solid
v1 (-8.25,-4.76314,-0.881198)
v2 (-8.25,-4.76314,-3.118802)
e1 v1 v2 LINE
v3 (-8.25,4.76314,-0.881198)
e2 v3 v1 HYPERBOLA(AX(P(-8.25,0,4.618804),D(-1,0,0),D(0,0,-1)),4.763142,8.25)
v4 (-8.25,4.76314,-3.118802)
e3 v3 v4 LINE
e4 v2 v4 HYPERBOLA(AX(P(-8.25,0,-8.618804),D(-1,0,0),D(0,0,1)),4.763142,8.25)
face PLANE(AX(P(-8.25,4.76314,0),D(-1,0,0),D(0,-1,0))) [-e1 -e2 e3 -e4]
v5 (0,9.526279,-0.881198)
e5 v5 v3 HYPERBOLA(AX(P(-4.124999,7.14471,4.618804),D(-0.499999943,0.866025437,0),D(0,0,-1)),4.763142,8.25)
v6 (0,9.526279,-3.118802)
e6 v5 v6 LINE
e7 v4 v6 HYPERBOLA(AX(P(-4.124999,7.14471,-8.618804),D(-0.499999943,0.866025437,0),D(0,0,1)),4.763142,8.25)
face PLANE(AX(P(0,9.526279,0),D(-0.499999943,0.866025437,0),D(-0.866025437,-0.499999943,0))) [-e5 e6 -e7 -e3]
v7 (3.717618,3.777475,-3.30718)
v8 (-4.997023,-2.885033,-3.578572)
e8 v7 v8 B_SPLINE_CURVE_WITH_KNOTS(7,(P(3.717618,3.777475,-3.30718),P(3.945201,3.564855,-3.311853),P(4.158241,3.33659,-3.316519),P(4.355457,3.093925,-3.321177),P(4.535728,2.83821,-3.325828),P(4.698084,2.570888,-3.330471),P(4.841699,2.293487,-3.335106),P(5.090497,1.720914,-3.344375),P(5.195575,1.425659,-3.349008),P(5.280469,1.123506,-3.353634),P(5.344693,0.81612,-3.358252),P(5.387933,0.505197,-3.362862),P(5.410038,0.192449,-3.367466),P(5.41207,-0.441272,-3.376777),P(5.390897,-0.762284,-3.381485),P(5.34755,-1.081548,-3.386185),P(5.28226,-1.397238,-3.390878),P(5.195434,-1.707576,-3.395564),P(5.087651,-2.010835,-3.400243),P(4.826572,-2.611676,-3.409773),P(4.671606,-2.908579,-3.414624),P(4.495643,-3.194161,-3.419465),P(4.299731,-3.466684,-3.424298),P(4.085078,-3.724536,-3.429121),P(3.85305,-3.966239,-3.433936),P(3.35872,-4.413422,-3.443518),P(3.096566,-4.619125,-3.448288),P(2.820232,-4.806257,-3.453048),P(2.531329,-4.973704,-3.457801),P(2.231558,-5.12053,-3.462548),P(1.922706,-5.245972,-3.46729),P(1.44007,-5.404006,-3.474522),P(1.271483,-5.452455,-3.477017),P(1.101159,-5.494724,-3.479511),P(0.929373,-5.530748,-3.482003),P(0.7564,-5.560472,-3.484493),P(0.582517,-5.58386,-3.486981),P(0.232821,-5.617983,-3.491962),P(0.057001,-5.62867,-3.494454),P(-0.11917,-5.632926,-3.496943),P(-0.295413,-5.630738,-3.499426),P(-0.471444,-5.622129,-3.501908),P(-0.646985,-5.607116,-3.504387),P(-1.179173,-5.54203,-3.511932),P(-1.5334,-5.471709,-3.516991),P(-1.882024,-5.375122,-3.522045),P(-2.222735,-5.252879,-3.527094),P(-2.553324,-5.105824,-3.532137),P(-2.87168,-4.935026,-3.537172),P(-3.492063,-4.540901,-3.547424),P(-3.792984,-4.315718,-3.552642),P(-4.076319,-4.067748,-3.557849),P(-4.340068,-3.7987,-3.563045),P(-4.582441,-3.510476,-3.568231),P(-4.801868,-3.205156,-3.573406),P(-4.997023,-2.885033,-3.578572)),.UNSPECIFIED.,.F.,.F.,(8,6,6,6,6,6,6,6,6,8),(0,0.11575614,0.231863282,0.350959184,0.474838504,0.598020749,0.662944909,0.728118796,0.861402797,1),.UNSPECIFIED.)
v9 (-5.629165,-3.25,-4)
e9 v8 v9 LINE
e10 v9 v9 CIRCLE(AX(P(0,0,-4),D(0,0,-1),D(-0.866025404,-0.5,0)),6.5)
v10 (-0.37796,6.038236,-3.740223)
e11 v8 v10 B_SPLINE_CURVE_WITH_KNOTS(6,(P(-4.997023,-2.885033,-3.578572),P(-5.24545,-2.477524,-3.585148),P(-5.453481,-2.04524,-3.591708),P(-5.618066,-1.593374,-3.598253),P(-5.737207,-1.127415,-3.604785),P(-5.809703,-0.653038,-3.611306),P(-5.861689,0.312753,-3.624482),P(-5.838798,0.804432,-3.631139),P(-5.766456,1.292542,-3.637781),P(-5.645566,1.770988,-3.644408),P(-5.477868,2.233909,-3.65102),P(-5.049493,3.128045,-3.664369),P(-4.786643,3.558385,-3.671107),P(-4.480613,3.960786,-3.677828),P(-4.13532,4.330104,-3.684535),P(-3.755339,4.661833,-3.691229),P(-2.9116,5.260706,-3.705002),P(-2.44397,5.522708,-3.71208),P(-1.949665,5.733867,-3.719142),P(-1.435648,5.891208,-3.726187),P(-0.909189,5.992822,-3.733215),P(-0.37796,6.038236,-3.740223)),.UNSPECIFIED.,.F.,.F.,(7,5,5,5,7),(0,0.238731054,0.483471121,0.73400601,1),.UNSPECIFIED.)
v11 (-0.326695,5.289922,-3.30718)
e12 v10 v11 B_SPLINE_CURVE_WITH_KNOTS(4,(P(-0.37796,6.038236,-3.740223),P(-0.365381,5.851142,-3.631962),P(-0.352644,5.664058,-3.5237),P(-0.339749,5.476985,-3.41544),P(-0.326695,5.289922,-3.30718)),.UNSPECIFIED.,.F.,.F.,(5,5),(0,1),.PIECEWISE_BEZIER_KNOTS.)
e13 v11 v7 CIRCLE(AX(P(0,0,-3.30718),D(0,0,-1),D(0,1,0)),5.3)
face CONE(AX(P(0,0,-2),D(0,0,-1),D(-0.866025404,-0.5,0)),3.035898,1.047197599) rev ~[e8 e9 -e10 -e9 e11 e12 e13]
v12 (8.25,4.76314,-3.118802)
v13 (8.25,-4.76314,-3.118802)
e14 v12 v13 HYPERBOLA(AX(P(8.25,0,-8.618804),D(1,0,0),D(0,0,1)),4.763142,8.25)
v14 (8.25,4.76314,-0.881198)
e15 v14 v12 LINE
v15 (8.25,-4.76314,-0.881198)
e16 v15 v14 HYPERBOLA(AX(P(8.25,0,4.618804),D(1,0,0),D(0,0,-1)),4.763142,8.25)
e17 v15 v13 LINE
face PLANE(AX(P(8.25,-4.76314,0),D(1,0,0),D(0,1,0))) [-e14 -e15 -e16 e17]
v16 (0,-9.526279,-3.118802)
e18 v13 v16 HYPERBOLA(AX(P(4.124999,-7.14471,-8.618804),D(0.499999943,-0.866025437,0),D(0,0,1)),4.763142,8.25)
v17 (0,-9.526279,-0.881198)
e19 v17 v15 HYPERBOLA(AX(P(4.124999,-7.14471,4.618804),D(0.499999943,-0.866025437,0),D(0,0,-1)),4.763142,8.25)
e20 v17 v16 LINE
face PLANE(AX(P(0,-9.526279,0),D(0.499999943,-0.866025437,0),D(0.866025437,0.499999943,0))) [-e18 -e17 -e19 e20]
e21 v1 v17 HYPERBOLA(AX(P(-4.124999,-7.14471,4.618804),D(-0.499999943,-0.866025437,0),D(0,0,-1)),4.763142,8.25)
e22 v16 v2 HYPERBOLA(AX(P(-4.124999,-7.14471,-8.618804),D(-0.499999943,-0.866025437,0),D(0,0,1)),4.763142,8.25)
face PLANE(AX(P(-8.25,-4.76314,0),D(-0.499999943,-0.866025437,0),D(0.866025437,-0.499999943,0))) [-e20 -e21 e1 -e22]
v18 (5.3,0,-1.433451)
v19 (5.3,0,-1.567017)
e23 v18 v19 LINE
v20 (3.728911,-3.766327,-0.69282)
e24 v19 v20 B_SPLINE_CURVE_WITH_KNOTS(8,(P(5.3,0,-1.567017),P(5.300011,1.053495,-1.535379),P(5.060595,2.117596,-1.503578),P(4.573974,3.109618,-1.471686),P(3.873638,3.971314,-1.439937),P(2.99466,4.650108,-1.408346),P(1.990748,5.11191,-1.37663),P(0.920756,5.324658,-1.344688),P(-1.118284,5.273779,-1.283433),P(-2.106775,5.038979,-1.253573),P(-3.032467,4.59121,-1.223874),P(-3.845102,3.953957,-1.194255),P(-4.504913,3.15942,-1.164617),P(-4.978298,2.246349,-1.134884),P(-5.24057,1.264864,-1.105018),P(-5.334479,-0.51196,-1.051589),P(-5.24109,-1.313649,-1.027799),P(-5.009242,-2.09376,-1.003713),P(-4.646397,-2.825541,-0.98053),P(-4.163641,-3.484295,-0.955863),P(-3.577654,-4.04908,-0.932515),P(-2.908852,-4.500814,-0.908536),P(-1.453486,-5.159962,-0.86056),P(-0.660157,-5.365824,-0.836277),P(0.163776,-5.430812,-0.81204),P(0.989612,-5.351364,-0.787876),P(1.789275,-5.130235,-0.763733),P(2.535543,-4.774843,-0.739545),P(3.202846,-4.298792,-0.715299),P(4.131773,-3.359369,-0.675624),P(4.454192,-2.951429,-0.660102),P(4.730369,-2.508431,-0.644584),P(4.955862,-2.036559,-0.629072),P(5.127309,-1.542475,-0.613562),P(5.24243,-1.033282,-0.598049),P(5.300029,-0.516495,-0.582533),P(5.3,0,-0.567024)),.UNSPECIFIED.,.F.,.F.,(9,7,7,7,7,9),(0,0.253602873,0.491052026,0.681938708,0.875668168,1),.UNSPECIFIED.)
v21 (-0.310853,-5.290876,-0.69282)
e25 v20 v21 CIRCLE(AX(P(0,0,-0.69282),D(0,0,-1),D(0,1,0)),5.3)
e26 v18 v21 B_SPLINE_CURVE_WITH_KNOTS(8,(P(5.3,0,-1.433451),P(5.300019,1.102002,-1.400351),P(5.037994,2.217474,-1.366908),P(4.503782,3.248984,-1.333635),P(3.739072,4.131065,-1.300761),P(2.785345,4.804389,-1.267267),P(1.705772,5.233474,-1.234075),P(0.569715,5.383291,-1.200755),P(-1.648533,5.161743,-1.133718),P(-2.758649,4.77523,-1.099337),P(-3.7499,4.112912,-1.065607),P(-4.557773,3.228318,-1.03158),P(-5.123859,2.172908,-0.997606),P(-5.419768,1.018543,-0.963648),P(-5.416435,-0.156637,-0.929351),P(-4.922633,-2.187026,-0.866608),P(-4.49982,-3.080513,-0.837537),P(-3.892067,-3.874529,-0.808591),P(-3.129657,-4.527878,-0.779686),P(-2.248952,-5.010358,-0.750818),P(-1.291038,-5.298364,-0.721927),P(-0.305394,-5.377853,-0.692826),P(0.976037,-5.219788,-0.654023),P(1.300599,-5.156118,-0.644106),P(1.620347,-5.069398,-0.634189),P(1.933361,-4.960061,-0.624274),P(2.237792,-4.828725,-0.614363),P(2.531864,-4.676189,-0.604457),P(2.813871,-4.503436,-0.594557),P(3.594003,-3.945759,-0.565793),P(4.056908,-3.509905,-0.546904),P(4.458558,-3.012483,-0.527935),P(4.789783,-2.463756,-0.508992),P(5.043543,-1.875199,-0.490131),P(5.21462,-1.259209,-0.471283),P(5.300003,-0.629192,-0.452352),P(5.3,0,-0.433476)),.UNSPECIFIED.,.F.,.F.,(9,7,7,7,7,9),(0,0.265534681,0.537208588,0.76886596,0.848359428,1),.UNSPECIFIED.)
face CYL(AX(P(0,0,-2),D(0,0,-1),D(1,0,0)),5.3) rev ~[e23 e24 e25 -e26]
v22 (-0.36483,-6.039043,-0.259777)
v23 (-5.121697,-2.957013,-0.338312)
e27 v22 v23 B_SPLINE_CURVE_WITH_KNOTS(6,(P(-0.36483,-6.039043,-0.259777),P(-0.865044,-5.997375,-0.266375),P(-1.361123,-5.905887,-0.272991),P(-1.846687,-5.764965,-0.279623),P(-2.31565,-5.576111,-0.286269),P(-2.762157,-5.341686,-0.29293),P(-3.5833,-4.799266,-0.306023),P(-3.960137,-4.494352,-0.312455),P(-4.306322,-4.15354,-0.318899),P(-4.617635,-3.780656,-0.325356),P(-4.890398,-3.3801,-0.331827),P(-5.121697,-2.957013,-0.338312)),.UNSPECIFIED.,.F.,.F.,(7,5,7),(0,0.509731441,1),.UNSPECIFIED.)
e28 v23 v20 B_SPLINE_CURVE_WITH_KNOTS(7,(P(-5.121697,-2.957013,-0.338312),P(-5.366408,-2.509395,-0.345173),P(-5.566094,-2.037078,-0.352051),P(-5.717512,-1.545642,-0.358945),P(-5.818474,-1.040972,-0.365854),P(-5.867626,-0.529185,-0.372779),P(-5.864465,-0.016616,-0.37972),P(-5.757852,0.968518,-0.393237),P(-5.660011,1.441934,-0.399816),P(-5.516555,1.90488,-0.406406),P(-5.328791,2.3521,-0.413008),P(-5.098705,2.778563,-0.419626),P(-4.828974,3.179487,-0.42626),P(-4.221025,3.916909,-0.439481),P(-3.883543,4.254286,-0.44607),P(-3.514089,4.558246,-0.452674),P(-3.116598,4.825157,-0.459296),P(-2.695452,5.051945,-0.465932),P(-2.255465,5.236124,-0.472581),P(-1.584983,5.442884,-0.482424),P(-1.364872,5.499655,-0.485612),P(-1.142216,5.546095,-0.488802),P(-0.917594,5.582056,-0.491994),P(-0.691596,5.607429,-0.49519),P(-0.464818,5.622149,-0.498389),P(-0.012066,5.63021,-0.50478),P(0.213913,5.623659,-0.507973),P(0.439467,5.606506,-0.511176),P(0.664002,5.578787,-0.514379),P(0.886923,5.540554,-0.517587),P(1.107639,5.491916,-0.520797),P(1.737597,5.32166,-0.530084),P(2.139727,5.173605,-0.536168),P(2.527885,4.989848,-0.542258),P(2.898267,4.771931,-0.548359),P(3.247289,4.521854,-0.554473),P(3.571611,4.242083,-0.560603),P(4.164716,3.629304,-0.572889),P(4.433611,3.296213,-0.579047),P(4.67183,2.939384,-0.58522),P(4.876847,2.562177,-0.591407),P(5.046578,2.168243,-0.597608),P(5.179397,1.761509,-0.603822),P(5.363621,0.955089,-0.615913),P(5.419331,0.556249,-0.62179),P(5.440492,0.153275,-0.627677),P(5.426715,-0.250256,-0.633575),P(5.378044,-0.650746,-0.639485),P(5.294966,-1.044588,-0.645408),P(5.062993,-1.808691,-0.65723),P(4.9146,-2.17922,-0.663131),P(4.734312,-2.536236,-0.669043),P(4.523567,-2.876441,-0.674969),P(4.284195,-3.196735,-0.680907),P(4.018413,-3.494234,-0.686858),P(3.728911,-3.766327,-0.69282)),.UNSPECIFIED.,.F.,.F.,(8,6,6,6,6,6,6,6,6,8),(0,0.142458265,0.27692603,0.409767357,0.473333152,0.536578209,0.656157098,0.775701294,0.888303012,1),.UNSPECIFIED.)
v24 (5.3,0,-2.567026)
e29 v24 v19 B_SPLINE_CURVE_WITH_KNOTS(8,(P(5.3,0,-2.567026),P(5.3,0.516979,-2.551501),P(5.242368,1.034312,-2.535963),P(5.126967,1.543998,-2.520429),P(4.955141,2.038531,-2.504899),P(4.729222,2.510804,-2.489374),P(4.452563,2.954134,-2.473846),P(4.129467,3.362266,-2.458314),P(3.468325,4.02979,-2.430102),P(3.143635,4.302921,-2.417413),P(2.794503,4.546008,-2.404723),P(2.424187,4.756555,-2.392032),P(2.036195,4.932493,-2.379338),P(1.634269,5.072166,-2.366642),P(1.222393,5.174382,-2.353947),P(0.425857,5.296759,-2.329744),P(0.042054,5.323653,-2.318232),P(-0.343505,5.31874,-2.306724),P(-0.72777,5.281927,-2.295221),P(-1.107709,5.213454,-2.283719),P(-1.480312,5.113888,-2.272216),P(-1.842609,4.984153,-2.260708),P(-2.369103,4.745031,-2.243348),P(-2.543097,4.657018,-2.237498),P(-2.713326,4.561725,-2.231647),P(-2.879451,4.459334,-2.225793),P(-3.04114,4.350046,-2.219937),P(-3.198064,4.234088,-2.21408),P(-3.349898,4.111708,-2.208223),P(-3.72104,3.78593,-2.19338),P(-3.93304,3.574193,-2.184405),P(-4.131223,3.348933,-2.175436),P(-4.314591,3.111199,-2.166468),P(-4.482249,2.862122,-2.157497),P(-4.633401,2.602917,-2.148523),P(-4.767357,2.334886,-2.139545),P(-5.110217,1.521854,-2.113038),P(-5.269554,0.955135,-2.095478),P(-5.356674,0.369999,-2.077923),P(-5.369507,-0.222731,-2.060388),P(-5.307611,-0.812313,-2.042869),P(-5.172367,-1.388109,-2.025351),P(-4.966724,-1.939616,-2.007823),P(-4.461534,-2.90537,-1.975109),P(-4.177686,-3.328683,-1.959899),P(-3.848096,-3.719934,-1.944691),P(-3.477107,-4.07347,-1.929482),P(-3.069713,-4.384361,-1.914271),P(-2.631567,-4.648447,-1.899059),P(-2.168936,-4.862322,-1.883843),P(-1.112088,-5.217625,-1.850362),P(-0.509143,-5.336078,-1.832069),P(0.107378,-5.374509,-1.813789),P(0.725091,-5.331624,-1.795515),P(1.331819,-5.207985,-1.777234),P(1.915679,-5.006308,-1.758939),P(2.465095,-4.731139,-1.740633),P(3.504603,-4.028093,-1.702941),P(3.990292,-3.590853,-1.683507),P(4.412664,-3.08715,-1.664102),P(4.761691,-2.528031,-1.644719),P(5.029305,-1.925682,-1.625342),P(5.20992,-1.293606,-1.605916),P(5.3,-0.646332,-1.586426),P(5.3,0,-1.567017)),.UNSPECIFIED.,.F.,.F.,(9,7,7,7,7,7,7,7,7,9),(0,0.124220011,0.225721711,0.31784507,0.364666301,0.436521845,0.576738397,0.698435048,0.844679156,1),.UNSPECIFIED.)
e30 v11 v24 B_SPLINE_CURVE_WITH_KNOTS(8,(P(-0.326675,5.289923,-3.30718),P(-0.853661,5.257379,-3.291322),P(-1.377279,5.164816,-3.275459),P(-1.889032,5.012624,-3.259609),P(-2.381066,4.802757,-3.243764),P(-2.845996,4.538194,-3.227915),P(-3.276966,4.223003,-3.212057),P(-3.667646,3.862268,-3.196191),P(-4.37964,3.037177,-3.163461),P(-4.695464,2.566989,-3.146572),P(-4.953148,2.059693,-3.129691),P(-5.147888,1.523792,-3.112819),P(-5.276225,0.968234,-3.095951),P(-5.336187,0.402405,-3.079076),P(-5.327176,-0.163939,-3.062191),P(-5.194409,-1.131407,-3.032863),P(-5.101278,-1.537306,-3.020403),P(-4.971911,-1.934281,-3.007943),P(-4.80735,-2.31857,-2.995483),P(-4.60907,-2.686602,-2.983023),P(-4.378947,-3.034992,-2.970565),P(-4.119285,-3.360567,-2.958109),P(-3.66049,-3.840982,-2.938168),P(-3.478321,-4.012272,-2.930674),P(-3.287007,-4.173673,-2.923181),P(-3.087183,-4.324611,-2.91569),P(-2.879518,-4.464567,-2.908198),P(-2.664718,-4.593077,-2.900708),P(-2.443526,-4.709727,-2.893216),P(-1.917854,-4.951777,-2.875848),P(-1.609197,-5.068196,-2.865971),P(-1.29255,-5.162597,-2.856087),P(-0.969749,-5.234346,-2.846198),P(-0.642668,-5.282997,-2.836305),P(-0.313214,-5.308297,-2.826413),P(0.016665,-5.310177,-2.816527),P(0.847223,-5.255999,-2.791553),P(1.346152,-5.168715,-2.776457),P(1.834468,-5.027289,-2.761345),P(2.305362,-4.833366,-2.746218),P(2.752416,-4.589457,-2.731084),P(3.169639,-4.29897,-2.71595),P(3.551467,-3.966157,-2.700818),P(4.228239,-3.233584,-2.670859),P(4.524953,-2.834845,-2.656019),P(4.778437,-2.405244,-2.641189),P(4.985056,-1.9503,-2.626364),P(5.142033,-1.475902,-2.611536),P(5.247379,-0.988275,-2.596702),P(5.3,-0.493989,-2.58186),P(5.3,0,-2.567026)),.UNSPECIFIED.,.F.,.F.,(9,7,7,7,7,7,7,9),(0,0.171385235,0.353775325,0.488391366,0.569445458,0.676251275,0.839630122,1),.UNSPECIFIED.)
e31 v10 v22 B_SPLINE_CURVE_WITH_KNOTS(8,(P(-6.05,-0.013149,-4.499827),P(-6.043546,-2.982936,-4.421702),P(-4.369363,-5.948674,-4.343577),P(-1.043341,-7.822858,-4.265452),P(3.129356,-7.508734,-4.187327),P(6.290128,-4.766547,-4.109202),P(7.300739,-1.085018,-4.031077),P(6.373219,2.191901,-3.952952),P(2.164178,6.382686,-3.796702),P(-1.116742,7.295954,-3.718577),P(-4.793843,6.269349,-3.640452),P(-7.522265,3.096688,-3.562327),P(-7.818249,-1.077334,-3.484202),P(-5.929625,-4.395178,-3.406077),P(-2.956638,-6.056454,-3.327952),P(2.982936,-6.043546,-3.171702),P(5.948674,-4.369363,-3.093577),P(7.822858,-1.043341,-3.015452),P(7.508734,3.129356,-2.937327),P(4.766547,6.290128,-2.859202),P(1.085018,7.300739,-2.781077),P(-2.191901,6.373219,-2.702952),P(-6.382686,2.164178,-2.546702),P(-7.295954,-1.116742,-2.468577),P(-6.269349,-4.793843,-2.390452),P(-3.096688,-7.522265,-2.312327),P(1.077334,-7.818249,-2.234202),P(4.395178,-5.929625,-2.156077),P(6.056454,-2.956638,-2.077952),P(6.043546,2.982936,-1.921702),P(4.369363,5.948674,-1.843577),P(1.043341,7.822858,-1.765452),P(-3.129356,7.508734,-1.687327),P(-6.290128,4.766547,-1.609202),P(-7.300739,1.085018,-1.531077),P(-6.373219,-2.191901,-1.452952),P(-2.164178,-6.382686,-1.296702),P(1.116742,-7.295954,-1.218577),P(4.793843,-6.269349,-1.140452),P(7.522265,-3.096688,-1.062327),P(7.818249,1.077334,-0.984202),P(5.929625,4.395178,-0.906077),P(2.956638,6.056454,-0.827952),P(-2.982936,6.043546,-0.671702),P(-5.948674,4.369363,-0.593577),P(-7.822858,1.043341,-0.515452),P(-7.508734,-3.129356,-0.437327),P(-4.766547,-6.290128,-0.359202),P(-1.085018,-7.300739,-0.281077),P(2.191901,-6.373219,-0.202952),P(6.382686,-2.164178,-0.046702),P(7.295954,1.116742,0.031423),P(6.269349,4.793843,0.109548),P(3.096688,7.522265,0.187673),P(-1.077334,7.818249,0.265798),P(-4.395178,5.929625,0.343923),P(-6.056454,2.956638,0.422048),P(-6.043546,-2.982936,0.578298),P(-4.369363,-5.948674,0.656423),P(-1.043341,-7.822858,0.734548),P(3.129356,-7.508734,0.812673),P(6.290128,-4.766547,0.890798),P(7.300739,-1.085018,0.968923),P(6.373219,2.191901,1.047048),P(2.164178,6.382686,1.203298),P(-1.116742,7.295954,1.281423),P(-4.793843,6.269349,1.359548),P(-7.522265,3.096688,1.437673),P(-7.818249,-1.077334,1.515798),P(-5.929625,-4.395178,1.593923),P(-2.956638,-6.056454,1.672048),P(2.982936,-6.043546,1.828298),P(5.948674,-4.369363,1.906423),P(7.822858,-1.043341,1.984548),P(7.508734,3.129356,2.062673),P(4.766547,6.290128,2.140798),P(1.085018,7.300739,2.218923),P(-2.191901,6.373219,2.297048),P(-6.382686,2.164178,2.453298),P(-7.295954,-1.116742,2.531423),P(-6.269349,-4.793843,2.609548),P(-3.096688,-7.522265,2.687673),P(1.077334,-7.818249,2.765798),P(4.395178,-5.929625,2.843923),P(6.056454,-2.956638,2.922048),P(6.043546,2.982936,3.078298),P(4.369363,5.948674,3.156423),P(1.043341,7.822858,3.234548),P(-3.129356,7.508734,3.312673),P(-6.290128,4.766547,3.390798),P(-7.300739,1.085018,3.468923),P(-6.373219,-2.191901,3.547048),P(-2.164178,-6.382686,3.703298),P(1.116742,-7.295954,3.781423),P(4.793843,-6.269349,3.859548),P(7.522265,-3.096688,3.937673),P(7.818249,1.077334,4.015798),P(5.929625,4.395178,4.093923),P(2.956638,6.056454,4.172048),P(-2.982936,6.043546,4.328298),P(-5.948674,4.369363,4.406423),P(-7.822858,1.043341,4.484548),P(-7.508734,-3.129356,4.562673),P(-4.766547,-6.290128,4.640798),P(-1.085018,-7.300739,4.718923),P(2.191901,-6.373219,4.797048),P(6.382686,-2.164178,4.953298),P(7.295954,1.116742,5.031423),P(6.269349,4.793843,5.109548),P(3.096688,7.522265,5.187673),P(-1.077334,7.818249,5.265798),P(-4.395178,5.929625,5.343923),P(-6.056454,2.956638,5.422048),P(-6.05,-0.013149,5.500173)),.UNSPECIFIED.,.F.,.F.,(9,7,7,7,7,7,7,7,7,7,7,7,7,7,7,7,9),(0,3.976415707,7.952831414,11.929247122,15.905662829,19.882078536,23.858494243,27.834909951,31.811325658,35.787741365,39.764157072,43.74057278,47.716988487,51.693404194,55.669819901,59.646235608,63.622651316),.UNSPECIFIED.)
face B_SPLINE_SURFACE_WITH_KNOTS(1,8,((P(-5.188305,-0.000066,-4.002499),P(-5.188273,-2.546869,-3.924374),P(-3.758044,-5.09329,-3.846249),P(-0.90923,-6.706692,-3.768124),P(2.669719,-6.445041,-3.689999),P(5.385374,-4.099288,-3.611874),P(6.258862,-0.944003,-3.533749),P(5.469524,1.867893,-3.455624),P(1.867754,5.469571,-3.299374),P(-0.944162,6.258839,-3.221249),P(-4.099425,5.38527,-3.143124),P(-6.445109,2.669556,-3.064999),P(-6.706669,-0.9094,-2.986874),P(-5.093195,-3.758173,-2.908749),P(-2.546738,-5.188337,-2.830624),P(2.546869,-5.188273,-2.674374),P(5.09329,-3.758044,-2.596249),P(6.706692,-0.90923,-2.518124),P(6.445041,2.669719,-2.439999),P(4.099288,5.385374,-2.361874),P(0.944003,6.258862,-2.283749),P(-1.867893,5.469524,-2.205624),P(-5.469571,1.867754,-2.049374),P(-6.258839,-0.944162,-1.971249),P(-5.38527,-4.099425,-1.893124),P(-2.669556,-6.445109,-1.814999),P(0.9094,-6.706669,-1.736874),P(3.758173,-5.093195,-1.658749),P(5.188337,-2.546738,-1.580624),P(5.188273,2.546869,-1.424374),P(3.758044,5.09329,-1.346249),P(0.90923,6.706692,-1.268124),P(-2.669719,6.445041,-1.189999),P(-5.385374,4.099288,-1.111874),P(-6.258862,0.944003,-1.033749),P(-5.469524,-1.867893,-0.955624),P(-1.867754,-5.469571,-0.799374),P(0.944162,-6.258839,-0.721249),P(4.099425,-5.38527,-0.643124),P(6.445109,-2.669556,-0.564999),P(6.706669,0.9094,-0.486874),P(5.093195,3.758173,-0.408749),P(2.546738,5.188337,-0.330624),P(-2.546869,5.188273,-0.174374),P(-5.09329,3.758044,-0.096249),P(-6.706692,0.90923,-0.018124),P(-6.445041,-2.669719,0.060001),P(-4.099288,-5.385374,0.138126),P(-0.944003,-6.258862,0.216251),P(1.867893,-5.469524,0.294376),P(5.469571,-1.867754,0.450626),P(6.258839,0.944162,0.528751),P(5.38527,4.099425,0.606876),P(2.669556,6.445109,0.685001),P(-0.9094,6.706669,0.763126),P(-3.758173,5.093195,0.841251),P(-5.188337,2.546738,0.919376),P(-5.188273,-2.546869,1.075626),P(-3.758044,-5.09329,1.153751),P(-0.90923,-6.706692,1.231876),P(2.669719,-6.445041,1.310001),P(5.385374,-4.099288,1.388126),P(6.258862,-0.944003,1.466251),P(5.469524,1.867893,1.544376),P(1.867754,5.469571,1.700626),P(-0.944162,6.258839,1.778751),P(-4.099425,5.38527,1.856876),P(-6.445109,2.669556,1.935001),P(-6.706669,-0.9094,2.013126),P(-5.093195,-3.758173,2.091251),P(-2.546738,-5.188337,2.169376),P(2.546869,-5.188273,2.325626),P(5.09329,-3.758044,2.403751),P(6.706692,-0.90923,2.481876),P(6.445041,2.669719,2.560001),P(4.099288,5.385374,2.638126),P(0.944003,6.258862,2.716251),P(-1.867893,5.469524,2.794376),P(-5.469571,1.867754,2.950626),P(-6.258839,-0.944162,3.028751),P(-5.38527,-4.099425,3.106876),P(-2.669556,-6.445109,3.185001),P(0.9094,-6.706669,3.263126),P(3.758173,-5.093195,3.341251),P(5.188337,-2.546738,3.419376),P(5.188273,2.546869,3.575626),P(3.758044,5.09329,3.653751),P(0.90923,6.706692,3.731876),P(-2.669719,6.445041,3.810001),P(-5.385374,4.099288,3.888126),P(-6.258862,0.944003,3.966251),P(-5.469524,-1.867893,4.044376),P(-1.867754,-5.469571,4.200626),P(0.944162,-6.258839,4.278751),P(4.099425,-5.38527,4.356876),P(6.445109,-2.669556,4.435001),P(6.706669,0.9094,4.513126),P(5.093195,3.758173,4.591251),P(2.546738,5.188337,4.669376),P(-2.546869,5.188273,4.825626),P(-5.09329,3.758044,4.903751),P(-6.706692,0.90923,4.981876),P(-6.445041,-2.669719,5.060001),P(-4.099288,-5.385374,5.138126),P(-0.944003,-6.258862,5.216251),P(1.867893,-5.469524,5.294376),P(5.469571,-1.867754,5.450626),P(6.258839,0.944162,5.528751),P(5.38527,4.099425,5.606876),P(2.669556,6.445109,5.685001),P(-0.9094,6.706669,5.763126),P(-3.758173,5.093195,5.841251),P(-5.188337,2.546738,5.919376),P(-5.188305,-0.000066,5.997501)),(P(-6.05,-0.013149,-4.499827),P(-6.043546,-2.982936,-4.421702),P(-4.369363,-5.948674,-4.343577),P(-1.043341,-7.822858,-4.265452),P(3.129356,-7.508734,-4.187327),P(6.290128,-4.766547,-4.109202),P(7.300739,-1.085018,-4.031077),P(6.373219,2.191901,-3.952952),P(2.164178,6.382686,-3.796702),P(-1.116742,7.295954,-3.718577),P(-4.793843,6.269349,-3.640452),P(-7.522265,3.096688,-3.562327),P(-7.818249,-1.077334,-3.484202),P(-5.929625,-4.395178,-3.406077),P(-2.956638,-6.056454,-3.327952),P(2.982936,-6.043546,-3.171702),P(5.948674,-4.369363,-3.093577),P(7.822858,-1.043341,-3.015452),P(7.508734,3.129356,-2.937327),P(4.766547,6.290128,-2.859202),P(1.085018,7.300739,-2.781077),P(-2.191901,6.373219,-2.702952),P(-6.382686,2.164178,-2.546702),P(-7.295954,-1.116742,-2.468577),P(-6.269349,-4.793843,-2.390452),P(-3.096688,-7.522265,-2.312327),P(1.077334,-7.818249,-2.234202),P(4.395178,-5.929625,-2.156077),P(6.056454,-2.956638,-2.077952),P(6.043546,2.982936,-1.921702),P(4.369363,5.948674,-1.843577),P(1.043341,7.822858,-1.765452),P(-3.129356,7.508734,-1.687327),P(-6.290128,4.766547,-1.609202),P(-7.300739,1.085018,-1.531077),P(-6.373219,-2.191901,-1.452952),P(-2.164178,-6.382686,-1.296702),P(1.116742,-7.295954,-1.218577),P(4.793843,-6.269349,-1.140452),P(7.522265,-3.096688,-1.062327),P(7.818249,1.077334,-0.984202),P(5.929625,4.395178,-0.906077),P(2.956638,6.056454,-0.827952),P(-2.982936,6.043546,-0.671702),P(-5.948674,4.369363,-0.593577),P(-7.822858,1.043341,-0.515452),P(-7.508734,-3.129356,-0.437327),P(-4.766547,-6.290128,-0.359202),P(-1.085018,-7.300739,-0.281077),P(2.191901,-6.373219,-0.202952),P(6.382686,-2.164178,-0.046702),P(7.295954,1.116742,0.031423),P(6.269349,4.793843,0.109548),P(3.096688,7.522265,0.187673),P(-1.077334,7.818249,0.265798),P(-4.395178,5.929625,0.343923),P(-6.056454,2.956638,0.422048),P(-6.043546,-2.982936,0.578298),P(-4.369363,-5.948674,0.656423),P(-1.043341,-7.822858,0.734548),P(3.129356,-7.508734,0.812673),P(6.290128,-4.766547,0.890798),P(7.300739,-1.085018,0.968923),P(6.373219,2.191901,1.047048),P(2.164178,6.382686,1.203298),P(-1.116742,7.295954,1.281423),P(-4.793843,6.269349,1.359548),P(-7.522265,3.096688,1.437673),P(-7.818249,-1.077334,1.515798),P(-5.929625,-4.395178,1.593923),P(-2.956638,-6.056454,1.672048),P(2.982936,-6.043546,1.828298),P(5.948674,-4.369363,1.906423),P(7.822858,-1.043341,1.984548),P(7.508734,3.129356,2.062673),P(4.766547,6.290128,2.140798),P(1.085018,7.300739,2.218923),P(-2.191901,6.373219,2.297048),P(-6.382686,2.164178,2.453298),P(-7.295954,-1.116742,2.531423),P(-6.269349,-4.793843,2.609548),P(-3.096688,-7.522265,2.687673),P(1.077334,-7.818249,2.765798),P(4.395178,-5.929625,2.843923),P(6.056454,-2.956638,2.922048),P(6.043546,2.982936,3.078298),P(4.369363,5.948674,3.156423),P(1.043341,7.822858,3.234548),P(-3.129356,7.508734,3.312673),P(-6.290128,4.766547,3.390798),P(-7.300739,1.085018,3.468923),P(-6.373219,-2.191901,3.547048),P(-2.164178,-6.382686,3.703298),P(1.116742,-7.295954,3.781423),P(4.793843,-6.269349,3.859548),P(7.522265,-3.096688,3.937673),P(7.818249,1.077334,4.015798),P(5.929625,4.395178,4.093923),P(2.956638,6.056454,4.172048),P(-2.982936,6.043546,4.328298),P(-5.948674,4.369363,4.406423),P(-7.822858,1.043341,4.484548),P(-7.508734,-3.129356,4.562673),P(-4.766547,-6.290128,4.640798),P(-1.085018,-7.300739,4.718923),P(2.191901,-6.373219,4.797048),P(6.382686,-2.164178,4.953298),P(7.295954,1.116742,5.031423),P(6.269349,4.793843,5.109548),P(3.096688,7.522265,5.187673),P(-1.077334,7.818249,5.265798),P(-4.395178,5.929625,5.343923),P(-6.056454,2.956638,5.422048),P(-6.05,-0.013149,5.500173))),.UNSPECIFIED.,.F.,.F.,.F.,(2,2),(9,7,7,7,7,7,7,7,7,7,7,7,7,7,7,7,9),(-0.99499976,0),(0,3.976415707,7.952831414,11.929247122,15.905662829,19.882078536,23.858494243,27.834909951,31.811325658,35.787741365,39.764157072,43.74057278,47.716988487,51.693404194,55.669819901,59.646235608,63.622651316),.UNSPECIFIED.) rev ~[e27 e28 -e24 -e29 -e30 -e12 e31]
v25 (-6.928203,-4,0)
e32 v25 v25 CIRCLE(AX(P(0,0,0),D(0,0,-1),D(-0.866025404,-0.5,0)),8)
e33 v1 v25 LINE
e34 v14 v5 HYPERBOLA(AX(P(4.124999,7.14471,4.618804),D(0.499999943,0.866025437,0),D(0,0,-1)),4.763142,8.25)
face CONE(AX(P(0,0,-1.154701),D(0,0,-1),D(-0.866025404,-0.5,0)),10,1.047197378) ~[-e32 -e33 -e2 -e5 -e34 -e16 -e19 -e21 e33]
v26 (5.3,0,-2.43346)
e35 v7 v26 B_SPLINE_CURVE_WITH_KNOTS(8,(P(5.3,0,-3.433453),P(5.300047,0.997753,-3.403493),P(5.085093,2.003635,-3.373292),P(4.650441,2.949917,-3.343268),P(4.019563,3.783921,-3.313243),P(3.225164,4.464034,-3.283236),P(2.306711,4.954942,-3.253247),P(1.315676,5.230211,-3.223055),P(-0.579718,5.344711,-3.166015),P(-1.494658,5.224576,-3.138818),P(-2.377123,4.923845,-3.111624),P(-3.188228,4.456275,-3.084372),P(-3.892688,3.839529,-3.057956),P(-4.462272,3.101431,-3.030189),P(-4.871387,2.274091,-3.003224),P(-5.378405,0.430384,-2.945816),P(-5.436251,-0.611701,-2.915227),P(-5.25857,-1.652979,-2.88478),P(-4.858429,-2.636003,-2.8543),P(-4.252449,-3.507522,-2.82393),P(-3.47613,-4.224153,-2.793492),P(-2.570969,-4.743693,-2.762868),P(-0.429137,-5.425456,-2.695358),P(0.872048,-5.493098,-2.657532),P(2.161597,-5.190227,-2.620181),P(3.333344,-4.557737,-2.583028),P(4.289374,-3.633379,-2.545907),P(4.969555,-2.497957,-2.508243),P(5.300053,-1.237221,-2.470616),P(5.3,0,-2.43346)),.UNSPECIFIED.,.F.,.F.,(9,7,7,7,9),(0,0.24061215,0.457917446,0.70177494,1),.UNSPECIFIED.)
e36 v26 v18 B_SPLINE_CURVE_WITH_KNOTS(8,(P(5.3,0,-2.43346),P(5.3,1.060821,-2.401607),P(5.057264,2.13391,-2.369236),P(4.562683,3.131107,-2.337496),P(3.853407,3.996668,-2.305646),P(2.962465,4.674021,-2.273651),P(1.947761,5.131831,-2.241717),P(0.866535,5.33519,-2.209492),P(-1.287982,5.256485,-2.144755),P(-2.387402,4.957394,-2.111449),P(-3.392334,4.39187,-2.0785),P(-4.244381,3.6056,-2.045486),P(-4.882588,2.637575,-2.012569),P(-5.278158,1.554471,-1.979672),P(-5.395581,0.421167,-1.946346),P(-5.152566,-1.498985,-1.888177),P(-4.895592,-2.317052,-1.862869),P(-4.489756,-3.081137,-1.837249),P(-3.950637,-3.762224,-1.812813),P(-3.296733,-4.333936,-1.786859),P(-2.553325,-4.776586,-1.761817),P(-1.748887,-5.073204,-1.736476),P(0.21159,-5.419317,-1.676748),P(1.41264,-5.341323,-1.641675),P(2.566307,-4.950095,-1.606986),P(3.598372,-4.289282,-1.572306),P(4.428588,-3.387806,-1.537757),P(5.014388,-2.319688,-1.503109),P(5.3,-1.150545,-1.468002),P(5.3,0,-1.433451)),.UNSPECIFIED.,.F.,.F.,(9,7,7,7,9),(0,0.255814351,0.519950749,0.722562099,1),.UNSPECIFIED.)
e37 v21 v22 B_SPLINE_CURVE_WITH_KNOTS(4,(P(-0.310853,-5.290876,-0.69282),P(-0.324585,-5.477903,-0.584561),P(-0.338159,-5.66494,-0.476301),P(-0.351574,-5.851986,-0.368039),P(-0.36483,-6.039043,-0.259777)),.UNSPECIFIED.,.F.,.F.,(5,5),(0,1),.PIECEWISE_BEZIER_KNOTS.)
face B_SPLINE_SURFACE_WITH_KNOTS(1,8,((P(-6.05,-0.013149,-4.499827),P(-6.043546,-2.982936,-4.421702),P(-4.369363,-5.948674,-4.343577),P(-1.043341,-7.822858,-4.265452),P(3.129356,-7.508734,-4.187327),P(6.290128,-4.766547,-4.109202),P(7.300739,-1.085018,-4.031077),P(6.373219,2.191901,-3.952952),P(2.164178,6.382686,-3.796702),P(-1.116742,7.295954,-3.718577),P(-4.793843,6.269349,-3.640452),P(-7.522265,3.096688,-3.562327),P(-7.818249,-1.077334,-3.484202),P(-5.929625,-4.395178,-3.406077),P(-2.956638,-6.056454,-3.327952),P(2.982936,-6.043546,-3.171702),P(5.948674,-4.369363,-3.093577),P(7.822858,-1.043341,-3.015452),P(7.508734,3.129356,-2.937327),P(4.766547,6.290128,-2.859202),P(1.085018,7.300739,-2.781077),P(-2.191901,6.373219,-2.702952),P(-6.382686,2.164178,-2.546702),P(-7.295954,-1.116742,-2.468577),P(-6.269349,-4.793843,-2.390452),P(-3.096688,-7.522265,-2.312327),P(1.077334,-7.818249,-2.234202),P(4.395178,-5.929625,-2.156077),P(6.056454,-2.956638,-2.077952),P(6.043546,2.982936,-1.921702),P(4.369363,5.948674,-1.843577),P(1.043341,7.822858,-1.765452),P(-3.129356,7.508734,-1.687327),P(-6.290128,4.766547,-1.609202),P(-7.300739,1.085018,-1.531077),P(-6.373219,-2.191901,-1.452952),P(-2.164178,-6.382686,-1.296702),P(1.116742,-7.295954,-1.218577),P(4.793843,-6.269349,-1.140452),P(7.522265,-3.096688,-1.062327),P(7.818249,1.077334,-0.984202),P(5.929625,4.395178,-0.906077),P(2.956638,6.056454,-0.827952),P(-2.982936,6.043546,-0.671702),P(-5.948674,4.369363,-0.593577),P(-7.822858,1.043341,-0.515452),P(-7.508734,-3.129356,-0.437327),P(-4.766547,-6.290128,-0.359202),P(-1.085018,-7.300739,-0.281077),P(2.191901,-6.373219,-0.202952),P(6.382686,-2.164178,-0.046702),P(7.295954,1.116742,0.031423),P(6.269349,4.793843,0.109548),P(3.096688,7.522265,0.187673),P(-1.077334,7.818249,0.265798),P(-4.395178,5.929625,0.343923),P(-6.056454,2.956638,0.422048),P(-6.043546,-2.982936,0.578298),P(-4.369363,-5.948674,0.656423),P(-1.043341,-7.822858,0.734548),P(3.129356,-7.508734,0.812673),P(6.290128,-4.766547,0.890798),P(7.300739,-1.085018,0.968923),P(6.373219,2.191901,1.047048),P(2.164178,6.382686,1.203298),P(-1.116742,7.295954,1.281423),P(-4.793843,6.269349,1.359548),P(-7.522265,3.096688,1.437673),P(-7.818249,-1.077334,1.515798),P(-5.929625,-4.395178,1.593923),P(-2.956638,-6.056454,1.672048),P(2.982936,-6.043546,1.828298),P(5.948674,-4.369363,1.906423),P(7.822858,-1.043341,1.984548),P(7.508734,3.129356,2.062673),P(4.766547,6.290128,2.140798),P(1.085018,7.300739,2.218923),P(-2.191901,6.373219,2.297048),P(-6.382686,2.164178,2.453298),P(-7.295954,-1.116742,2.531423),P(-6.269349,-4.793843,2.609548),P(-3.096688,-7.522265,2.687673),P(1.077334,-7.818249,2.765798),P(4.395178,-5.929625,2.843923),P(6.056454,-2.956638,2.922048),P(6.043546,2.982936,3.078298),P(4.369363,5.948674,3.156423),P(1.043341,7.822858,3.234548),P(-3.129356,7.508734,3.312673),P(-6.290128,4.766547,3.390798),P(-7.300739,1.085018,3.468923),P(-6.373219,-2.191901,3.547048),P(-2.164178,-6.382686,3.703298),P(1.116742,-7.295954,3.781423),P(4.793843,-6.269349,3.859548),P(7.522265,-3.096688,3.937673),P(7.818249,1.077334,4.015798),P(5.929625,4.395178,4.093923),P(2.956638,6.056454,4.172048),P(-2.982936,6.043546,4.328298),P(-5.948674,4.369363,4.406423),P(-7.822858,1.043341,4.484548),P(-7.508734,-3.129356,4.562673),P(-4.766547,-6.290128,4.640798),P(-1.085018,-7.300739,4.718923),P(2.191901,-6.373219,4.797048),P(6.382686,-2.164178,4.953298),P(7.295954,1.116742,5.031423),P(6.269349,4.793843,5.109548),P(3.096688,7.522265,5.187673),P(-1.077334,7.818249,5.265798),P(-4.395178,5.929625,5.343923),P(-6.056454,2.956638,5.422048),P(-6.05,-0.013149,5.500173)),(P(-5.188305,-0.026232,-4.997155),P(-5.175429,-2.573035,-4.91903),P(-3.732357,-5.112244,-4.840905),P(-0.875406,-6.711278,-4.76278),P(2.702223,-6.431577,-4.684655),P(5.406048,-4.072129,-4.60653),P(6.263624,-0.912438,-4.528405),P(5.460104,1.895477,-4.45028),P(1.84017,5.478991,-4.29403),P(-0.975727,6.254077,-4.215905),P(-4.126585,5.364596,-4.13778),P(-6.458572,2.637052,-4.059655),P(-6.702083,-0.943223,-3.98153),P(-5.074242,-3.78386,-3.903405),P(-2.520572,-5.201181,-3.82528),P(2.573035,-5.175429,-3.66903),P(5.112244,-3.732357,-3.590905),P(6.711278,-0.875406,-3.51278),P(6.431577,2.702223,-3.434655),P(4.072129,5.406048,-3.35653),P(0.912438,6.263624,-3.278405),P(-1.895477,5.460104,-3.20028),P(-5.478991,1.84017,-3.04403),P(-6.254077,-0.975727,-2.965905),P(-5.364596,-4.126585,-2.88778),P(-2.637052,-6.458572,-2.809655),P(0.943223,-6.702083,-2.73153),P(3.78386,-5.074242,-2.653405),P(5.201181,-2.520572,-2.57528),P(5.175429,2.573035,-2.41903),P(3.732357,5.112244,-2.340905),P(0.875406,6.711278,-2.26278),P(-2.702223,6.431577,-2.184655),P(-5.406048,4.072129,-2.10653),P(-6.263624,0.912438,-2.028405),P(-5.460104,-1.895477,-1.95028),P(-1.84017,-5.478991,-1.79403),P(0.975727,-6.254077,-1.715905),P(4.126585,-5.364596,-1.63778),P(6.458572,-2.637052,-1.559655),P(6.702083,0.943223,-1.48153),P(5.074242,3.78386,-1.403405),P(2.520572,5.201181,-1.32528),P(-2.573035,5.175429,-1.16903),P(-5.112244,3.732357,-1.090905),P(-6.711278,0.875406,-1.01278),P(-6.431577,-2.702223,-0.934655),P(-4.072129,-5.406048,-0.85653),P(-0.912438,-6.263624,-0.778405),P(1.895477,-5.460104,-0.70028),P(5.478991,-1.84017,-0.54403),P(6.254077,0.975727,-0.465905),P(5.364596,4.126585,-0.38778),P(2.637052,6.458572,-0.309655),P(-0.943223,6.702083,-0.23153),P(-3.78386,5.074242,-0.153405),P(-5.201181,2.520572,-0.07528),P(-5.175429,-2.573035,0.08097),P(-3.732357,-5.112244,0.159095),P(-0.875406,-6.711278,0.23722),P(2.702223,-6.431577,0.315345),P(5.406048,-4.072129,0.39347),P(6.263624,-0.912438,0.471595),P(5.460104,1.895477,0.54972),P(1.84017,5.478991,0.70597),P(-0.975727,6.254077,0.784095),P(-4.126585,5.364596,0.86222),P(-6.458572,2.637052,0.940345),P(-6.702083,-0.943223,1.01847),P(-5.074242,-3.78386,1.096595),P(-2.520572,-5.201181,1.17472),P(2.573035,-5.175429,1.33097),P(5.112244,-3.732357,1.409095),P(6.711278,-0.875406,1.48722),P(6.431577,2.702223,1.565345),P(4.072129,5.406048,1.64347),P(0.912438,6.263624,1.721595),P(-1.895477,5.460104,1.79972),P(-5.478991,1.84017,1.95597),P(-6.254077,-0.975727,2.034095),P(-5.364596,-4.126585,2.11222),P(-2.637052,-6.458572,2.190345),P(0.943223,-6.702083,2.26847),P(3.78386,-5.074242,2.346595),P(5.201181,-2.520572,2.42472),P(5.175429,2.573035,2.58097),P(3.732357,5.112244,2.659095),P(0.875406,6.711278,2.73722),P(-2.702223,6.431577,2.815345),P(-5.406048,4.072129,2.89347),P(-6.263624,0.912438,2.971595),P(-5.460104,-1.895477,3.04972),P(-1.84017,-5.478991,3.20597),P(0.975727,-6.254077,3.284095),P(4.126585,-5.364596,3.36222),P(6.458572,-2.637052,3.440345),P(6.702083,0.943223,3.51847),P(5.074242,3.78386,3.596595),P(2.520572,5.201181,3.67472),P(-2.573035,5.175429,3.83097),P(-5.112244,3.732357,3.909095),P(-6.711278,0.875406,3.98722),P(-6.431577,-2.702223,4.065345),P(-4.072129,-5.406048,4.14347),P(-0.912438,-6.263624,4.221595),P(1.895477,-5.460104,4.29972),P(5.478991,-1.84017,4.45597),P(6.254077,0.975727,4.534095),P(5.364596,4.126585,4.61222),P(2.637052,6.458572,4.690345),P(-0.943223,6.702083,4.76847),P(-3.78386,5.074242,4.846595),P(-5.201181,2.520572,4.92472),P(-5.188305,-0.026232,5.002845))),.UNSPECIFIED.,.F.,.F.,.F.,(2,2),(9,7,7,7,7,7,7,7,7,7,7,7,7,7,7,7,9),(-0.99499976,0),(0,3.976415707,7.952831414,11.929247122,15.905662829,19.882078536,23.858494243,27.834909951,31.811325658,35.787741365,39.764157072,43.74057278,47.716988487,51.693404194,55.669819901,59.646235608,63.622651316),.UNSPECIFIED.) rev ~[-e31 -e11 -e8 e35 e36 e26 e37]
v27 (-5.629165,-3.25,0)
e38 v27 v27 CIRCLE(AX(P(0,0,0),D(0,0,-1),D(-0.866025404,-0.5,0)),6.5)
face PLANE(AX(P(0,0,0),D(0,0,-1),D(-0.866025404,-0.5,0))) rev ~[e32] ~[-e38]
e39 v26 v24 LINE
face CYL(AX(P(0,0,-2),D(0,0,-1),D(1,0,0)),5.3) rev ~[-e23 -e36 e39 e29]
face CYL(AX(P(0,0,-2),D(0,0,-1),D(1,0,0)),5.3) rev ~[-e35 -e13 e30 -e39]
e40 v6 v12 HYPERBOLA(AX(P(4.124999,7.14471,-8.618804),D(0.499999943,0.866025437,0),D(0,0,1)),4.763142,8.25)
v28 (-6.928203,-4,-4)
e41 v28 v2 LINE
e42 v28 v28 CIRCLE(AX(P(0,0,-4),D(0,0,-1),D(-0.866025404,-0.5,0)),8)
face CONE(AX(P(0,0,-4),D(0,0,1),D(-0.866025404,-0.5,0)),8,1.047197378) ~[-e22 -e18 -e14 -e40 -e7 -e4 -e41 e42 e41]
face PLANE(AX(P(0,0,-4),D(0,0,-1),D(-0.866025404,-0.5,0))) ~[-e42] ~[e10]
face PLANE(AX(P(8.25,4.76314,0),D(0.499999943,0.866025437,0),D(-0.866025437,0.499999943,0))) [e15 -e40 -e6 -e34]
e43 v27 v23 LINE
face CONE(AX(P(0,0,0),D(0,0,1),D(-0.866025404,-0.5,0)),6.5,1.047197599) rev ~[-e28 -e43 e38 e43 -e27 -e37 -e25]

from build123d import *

# Parameters (mm, degrees)
SKETCH_1_W          = 4
SKETCH_1_H          = 5.45
SKETCH_2_R          = 11
CUT_EXTRUDE_1_DEPTH = 16.72021
SKETCH_3_W          = 6
SKETCH_3_H          = 8.964102
SWEEP_1_PITCH       = 1
SWEEP_1_HEIGHT      = 10
SWEEP_1_RADIUS      = 6.05
SWEEP_1_START_ANGLE = 180


with BuildPart() as part:
    # Эскиз1 → Повернуть1 (revolve)
    with BuildSketch(Plane(origin=(0, 0, 0), x_dir=(0, 0, -1), z_dir=(1, 0, 0)), mode=Mode.PRIVATE) as revolve_1_sk:
        with Locations((2, 8.025)):
            Rectangle(SKETCH_1_W, SKETCH_1_H)
    revolve(revolve_1_sk.sketch.rotate(Axis((0, 0, 0), (0, 0, -1)), 90), axis=Axis((0, 0, 0), (0, 0, -1)))

    # Эскиз2 → Вырез-Вытянуть1 (cut, through all)
    with BuildSketch(Plane.XY):
        Circle(SKETCH_2_R)
        Polygon((8.25, -4.76314), (8.25, 4.76314), (0, 9.526279), (-8.25, 4.76314), (-8.25, -4.76314), (0, -9.526279), align=None, mode=Mode.SUBTRACT)
    extrude(amount=-CUT_EXTRUDE_1_DEPTH, mode=Mode.SUBTRACT)

    # Эскиз3 → Вырез-Повернуть1 (revolve, cut)
    with BuildSketch(Plane(origin=(0, 0, 0), x_dir=(0, 0, -1), z_dir=(1, 0, 0)), mode=Mode.PRIVATE) as cut_revolve_1_sk:
        with Locations((2, 6.517949)):
            Rectangle(SKETCH_3_W, SKETCH_3_H)
        Polygon((2, 3.035898), (4, 6.5), (4, 8), (2.845299, 10), (1.154701, 10), (0, 8), (0, 6.5), align=None, mode=Mode.SUBTRACT)
    revolve(cut_revolve_1_sk.sketch.rotate(Axis((0, 0, 0), (0, 0, -1)), 240), axis=Axis((0, 0, 0), (0, 0, -1)), mode=Mode.SUBTRACT)

    # Вырез-По траектории1: sweep along a helix
    with BuildLine() as sweep_1_path:
        add(Helix(SWEEP_1_PITCH, SWEEP_1_HEIGHT, SWEEP_1_RADIUS, center=(0, 0, -4), direction=(0, 0, 1), mode=Mode.PRIVATE).rotate(Axis((0, 0, -4), (0, 0, 1)), SWEEP_1_START_ANGLE))
    with BuildLine() as sweep_1_axis:
        Line((0, 0, -4), (0, 0, 6))
    # Эскиз5 → Вырез-По траектории1 (sweep, cut)
    with BuildSketch(Plane(origin=(-6.05, 0, -4), x_dir=(-1, 0, 0), z_dir=(0, -0.9996541608311538, 0.026297504310521795))):
        Polygon((-0.861695, 0.9975), (0, 0.5), (-0.861695, 0.0025), align=None)
    sweep(path=sweep_1_path.line, binormal=sweep_1_axis.edges()[0], mode=Mode.SUBTRACT)


solid = part.part
